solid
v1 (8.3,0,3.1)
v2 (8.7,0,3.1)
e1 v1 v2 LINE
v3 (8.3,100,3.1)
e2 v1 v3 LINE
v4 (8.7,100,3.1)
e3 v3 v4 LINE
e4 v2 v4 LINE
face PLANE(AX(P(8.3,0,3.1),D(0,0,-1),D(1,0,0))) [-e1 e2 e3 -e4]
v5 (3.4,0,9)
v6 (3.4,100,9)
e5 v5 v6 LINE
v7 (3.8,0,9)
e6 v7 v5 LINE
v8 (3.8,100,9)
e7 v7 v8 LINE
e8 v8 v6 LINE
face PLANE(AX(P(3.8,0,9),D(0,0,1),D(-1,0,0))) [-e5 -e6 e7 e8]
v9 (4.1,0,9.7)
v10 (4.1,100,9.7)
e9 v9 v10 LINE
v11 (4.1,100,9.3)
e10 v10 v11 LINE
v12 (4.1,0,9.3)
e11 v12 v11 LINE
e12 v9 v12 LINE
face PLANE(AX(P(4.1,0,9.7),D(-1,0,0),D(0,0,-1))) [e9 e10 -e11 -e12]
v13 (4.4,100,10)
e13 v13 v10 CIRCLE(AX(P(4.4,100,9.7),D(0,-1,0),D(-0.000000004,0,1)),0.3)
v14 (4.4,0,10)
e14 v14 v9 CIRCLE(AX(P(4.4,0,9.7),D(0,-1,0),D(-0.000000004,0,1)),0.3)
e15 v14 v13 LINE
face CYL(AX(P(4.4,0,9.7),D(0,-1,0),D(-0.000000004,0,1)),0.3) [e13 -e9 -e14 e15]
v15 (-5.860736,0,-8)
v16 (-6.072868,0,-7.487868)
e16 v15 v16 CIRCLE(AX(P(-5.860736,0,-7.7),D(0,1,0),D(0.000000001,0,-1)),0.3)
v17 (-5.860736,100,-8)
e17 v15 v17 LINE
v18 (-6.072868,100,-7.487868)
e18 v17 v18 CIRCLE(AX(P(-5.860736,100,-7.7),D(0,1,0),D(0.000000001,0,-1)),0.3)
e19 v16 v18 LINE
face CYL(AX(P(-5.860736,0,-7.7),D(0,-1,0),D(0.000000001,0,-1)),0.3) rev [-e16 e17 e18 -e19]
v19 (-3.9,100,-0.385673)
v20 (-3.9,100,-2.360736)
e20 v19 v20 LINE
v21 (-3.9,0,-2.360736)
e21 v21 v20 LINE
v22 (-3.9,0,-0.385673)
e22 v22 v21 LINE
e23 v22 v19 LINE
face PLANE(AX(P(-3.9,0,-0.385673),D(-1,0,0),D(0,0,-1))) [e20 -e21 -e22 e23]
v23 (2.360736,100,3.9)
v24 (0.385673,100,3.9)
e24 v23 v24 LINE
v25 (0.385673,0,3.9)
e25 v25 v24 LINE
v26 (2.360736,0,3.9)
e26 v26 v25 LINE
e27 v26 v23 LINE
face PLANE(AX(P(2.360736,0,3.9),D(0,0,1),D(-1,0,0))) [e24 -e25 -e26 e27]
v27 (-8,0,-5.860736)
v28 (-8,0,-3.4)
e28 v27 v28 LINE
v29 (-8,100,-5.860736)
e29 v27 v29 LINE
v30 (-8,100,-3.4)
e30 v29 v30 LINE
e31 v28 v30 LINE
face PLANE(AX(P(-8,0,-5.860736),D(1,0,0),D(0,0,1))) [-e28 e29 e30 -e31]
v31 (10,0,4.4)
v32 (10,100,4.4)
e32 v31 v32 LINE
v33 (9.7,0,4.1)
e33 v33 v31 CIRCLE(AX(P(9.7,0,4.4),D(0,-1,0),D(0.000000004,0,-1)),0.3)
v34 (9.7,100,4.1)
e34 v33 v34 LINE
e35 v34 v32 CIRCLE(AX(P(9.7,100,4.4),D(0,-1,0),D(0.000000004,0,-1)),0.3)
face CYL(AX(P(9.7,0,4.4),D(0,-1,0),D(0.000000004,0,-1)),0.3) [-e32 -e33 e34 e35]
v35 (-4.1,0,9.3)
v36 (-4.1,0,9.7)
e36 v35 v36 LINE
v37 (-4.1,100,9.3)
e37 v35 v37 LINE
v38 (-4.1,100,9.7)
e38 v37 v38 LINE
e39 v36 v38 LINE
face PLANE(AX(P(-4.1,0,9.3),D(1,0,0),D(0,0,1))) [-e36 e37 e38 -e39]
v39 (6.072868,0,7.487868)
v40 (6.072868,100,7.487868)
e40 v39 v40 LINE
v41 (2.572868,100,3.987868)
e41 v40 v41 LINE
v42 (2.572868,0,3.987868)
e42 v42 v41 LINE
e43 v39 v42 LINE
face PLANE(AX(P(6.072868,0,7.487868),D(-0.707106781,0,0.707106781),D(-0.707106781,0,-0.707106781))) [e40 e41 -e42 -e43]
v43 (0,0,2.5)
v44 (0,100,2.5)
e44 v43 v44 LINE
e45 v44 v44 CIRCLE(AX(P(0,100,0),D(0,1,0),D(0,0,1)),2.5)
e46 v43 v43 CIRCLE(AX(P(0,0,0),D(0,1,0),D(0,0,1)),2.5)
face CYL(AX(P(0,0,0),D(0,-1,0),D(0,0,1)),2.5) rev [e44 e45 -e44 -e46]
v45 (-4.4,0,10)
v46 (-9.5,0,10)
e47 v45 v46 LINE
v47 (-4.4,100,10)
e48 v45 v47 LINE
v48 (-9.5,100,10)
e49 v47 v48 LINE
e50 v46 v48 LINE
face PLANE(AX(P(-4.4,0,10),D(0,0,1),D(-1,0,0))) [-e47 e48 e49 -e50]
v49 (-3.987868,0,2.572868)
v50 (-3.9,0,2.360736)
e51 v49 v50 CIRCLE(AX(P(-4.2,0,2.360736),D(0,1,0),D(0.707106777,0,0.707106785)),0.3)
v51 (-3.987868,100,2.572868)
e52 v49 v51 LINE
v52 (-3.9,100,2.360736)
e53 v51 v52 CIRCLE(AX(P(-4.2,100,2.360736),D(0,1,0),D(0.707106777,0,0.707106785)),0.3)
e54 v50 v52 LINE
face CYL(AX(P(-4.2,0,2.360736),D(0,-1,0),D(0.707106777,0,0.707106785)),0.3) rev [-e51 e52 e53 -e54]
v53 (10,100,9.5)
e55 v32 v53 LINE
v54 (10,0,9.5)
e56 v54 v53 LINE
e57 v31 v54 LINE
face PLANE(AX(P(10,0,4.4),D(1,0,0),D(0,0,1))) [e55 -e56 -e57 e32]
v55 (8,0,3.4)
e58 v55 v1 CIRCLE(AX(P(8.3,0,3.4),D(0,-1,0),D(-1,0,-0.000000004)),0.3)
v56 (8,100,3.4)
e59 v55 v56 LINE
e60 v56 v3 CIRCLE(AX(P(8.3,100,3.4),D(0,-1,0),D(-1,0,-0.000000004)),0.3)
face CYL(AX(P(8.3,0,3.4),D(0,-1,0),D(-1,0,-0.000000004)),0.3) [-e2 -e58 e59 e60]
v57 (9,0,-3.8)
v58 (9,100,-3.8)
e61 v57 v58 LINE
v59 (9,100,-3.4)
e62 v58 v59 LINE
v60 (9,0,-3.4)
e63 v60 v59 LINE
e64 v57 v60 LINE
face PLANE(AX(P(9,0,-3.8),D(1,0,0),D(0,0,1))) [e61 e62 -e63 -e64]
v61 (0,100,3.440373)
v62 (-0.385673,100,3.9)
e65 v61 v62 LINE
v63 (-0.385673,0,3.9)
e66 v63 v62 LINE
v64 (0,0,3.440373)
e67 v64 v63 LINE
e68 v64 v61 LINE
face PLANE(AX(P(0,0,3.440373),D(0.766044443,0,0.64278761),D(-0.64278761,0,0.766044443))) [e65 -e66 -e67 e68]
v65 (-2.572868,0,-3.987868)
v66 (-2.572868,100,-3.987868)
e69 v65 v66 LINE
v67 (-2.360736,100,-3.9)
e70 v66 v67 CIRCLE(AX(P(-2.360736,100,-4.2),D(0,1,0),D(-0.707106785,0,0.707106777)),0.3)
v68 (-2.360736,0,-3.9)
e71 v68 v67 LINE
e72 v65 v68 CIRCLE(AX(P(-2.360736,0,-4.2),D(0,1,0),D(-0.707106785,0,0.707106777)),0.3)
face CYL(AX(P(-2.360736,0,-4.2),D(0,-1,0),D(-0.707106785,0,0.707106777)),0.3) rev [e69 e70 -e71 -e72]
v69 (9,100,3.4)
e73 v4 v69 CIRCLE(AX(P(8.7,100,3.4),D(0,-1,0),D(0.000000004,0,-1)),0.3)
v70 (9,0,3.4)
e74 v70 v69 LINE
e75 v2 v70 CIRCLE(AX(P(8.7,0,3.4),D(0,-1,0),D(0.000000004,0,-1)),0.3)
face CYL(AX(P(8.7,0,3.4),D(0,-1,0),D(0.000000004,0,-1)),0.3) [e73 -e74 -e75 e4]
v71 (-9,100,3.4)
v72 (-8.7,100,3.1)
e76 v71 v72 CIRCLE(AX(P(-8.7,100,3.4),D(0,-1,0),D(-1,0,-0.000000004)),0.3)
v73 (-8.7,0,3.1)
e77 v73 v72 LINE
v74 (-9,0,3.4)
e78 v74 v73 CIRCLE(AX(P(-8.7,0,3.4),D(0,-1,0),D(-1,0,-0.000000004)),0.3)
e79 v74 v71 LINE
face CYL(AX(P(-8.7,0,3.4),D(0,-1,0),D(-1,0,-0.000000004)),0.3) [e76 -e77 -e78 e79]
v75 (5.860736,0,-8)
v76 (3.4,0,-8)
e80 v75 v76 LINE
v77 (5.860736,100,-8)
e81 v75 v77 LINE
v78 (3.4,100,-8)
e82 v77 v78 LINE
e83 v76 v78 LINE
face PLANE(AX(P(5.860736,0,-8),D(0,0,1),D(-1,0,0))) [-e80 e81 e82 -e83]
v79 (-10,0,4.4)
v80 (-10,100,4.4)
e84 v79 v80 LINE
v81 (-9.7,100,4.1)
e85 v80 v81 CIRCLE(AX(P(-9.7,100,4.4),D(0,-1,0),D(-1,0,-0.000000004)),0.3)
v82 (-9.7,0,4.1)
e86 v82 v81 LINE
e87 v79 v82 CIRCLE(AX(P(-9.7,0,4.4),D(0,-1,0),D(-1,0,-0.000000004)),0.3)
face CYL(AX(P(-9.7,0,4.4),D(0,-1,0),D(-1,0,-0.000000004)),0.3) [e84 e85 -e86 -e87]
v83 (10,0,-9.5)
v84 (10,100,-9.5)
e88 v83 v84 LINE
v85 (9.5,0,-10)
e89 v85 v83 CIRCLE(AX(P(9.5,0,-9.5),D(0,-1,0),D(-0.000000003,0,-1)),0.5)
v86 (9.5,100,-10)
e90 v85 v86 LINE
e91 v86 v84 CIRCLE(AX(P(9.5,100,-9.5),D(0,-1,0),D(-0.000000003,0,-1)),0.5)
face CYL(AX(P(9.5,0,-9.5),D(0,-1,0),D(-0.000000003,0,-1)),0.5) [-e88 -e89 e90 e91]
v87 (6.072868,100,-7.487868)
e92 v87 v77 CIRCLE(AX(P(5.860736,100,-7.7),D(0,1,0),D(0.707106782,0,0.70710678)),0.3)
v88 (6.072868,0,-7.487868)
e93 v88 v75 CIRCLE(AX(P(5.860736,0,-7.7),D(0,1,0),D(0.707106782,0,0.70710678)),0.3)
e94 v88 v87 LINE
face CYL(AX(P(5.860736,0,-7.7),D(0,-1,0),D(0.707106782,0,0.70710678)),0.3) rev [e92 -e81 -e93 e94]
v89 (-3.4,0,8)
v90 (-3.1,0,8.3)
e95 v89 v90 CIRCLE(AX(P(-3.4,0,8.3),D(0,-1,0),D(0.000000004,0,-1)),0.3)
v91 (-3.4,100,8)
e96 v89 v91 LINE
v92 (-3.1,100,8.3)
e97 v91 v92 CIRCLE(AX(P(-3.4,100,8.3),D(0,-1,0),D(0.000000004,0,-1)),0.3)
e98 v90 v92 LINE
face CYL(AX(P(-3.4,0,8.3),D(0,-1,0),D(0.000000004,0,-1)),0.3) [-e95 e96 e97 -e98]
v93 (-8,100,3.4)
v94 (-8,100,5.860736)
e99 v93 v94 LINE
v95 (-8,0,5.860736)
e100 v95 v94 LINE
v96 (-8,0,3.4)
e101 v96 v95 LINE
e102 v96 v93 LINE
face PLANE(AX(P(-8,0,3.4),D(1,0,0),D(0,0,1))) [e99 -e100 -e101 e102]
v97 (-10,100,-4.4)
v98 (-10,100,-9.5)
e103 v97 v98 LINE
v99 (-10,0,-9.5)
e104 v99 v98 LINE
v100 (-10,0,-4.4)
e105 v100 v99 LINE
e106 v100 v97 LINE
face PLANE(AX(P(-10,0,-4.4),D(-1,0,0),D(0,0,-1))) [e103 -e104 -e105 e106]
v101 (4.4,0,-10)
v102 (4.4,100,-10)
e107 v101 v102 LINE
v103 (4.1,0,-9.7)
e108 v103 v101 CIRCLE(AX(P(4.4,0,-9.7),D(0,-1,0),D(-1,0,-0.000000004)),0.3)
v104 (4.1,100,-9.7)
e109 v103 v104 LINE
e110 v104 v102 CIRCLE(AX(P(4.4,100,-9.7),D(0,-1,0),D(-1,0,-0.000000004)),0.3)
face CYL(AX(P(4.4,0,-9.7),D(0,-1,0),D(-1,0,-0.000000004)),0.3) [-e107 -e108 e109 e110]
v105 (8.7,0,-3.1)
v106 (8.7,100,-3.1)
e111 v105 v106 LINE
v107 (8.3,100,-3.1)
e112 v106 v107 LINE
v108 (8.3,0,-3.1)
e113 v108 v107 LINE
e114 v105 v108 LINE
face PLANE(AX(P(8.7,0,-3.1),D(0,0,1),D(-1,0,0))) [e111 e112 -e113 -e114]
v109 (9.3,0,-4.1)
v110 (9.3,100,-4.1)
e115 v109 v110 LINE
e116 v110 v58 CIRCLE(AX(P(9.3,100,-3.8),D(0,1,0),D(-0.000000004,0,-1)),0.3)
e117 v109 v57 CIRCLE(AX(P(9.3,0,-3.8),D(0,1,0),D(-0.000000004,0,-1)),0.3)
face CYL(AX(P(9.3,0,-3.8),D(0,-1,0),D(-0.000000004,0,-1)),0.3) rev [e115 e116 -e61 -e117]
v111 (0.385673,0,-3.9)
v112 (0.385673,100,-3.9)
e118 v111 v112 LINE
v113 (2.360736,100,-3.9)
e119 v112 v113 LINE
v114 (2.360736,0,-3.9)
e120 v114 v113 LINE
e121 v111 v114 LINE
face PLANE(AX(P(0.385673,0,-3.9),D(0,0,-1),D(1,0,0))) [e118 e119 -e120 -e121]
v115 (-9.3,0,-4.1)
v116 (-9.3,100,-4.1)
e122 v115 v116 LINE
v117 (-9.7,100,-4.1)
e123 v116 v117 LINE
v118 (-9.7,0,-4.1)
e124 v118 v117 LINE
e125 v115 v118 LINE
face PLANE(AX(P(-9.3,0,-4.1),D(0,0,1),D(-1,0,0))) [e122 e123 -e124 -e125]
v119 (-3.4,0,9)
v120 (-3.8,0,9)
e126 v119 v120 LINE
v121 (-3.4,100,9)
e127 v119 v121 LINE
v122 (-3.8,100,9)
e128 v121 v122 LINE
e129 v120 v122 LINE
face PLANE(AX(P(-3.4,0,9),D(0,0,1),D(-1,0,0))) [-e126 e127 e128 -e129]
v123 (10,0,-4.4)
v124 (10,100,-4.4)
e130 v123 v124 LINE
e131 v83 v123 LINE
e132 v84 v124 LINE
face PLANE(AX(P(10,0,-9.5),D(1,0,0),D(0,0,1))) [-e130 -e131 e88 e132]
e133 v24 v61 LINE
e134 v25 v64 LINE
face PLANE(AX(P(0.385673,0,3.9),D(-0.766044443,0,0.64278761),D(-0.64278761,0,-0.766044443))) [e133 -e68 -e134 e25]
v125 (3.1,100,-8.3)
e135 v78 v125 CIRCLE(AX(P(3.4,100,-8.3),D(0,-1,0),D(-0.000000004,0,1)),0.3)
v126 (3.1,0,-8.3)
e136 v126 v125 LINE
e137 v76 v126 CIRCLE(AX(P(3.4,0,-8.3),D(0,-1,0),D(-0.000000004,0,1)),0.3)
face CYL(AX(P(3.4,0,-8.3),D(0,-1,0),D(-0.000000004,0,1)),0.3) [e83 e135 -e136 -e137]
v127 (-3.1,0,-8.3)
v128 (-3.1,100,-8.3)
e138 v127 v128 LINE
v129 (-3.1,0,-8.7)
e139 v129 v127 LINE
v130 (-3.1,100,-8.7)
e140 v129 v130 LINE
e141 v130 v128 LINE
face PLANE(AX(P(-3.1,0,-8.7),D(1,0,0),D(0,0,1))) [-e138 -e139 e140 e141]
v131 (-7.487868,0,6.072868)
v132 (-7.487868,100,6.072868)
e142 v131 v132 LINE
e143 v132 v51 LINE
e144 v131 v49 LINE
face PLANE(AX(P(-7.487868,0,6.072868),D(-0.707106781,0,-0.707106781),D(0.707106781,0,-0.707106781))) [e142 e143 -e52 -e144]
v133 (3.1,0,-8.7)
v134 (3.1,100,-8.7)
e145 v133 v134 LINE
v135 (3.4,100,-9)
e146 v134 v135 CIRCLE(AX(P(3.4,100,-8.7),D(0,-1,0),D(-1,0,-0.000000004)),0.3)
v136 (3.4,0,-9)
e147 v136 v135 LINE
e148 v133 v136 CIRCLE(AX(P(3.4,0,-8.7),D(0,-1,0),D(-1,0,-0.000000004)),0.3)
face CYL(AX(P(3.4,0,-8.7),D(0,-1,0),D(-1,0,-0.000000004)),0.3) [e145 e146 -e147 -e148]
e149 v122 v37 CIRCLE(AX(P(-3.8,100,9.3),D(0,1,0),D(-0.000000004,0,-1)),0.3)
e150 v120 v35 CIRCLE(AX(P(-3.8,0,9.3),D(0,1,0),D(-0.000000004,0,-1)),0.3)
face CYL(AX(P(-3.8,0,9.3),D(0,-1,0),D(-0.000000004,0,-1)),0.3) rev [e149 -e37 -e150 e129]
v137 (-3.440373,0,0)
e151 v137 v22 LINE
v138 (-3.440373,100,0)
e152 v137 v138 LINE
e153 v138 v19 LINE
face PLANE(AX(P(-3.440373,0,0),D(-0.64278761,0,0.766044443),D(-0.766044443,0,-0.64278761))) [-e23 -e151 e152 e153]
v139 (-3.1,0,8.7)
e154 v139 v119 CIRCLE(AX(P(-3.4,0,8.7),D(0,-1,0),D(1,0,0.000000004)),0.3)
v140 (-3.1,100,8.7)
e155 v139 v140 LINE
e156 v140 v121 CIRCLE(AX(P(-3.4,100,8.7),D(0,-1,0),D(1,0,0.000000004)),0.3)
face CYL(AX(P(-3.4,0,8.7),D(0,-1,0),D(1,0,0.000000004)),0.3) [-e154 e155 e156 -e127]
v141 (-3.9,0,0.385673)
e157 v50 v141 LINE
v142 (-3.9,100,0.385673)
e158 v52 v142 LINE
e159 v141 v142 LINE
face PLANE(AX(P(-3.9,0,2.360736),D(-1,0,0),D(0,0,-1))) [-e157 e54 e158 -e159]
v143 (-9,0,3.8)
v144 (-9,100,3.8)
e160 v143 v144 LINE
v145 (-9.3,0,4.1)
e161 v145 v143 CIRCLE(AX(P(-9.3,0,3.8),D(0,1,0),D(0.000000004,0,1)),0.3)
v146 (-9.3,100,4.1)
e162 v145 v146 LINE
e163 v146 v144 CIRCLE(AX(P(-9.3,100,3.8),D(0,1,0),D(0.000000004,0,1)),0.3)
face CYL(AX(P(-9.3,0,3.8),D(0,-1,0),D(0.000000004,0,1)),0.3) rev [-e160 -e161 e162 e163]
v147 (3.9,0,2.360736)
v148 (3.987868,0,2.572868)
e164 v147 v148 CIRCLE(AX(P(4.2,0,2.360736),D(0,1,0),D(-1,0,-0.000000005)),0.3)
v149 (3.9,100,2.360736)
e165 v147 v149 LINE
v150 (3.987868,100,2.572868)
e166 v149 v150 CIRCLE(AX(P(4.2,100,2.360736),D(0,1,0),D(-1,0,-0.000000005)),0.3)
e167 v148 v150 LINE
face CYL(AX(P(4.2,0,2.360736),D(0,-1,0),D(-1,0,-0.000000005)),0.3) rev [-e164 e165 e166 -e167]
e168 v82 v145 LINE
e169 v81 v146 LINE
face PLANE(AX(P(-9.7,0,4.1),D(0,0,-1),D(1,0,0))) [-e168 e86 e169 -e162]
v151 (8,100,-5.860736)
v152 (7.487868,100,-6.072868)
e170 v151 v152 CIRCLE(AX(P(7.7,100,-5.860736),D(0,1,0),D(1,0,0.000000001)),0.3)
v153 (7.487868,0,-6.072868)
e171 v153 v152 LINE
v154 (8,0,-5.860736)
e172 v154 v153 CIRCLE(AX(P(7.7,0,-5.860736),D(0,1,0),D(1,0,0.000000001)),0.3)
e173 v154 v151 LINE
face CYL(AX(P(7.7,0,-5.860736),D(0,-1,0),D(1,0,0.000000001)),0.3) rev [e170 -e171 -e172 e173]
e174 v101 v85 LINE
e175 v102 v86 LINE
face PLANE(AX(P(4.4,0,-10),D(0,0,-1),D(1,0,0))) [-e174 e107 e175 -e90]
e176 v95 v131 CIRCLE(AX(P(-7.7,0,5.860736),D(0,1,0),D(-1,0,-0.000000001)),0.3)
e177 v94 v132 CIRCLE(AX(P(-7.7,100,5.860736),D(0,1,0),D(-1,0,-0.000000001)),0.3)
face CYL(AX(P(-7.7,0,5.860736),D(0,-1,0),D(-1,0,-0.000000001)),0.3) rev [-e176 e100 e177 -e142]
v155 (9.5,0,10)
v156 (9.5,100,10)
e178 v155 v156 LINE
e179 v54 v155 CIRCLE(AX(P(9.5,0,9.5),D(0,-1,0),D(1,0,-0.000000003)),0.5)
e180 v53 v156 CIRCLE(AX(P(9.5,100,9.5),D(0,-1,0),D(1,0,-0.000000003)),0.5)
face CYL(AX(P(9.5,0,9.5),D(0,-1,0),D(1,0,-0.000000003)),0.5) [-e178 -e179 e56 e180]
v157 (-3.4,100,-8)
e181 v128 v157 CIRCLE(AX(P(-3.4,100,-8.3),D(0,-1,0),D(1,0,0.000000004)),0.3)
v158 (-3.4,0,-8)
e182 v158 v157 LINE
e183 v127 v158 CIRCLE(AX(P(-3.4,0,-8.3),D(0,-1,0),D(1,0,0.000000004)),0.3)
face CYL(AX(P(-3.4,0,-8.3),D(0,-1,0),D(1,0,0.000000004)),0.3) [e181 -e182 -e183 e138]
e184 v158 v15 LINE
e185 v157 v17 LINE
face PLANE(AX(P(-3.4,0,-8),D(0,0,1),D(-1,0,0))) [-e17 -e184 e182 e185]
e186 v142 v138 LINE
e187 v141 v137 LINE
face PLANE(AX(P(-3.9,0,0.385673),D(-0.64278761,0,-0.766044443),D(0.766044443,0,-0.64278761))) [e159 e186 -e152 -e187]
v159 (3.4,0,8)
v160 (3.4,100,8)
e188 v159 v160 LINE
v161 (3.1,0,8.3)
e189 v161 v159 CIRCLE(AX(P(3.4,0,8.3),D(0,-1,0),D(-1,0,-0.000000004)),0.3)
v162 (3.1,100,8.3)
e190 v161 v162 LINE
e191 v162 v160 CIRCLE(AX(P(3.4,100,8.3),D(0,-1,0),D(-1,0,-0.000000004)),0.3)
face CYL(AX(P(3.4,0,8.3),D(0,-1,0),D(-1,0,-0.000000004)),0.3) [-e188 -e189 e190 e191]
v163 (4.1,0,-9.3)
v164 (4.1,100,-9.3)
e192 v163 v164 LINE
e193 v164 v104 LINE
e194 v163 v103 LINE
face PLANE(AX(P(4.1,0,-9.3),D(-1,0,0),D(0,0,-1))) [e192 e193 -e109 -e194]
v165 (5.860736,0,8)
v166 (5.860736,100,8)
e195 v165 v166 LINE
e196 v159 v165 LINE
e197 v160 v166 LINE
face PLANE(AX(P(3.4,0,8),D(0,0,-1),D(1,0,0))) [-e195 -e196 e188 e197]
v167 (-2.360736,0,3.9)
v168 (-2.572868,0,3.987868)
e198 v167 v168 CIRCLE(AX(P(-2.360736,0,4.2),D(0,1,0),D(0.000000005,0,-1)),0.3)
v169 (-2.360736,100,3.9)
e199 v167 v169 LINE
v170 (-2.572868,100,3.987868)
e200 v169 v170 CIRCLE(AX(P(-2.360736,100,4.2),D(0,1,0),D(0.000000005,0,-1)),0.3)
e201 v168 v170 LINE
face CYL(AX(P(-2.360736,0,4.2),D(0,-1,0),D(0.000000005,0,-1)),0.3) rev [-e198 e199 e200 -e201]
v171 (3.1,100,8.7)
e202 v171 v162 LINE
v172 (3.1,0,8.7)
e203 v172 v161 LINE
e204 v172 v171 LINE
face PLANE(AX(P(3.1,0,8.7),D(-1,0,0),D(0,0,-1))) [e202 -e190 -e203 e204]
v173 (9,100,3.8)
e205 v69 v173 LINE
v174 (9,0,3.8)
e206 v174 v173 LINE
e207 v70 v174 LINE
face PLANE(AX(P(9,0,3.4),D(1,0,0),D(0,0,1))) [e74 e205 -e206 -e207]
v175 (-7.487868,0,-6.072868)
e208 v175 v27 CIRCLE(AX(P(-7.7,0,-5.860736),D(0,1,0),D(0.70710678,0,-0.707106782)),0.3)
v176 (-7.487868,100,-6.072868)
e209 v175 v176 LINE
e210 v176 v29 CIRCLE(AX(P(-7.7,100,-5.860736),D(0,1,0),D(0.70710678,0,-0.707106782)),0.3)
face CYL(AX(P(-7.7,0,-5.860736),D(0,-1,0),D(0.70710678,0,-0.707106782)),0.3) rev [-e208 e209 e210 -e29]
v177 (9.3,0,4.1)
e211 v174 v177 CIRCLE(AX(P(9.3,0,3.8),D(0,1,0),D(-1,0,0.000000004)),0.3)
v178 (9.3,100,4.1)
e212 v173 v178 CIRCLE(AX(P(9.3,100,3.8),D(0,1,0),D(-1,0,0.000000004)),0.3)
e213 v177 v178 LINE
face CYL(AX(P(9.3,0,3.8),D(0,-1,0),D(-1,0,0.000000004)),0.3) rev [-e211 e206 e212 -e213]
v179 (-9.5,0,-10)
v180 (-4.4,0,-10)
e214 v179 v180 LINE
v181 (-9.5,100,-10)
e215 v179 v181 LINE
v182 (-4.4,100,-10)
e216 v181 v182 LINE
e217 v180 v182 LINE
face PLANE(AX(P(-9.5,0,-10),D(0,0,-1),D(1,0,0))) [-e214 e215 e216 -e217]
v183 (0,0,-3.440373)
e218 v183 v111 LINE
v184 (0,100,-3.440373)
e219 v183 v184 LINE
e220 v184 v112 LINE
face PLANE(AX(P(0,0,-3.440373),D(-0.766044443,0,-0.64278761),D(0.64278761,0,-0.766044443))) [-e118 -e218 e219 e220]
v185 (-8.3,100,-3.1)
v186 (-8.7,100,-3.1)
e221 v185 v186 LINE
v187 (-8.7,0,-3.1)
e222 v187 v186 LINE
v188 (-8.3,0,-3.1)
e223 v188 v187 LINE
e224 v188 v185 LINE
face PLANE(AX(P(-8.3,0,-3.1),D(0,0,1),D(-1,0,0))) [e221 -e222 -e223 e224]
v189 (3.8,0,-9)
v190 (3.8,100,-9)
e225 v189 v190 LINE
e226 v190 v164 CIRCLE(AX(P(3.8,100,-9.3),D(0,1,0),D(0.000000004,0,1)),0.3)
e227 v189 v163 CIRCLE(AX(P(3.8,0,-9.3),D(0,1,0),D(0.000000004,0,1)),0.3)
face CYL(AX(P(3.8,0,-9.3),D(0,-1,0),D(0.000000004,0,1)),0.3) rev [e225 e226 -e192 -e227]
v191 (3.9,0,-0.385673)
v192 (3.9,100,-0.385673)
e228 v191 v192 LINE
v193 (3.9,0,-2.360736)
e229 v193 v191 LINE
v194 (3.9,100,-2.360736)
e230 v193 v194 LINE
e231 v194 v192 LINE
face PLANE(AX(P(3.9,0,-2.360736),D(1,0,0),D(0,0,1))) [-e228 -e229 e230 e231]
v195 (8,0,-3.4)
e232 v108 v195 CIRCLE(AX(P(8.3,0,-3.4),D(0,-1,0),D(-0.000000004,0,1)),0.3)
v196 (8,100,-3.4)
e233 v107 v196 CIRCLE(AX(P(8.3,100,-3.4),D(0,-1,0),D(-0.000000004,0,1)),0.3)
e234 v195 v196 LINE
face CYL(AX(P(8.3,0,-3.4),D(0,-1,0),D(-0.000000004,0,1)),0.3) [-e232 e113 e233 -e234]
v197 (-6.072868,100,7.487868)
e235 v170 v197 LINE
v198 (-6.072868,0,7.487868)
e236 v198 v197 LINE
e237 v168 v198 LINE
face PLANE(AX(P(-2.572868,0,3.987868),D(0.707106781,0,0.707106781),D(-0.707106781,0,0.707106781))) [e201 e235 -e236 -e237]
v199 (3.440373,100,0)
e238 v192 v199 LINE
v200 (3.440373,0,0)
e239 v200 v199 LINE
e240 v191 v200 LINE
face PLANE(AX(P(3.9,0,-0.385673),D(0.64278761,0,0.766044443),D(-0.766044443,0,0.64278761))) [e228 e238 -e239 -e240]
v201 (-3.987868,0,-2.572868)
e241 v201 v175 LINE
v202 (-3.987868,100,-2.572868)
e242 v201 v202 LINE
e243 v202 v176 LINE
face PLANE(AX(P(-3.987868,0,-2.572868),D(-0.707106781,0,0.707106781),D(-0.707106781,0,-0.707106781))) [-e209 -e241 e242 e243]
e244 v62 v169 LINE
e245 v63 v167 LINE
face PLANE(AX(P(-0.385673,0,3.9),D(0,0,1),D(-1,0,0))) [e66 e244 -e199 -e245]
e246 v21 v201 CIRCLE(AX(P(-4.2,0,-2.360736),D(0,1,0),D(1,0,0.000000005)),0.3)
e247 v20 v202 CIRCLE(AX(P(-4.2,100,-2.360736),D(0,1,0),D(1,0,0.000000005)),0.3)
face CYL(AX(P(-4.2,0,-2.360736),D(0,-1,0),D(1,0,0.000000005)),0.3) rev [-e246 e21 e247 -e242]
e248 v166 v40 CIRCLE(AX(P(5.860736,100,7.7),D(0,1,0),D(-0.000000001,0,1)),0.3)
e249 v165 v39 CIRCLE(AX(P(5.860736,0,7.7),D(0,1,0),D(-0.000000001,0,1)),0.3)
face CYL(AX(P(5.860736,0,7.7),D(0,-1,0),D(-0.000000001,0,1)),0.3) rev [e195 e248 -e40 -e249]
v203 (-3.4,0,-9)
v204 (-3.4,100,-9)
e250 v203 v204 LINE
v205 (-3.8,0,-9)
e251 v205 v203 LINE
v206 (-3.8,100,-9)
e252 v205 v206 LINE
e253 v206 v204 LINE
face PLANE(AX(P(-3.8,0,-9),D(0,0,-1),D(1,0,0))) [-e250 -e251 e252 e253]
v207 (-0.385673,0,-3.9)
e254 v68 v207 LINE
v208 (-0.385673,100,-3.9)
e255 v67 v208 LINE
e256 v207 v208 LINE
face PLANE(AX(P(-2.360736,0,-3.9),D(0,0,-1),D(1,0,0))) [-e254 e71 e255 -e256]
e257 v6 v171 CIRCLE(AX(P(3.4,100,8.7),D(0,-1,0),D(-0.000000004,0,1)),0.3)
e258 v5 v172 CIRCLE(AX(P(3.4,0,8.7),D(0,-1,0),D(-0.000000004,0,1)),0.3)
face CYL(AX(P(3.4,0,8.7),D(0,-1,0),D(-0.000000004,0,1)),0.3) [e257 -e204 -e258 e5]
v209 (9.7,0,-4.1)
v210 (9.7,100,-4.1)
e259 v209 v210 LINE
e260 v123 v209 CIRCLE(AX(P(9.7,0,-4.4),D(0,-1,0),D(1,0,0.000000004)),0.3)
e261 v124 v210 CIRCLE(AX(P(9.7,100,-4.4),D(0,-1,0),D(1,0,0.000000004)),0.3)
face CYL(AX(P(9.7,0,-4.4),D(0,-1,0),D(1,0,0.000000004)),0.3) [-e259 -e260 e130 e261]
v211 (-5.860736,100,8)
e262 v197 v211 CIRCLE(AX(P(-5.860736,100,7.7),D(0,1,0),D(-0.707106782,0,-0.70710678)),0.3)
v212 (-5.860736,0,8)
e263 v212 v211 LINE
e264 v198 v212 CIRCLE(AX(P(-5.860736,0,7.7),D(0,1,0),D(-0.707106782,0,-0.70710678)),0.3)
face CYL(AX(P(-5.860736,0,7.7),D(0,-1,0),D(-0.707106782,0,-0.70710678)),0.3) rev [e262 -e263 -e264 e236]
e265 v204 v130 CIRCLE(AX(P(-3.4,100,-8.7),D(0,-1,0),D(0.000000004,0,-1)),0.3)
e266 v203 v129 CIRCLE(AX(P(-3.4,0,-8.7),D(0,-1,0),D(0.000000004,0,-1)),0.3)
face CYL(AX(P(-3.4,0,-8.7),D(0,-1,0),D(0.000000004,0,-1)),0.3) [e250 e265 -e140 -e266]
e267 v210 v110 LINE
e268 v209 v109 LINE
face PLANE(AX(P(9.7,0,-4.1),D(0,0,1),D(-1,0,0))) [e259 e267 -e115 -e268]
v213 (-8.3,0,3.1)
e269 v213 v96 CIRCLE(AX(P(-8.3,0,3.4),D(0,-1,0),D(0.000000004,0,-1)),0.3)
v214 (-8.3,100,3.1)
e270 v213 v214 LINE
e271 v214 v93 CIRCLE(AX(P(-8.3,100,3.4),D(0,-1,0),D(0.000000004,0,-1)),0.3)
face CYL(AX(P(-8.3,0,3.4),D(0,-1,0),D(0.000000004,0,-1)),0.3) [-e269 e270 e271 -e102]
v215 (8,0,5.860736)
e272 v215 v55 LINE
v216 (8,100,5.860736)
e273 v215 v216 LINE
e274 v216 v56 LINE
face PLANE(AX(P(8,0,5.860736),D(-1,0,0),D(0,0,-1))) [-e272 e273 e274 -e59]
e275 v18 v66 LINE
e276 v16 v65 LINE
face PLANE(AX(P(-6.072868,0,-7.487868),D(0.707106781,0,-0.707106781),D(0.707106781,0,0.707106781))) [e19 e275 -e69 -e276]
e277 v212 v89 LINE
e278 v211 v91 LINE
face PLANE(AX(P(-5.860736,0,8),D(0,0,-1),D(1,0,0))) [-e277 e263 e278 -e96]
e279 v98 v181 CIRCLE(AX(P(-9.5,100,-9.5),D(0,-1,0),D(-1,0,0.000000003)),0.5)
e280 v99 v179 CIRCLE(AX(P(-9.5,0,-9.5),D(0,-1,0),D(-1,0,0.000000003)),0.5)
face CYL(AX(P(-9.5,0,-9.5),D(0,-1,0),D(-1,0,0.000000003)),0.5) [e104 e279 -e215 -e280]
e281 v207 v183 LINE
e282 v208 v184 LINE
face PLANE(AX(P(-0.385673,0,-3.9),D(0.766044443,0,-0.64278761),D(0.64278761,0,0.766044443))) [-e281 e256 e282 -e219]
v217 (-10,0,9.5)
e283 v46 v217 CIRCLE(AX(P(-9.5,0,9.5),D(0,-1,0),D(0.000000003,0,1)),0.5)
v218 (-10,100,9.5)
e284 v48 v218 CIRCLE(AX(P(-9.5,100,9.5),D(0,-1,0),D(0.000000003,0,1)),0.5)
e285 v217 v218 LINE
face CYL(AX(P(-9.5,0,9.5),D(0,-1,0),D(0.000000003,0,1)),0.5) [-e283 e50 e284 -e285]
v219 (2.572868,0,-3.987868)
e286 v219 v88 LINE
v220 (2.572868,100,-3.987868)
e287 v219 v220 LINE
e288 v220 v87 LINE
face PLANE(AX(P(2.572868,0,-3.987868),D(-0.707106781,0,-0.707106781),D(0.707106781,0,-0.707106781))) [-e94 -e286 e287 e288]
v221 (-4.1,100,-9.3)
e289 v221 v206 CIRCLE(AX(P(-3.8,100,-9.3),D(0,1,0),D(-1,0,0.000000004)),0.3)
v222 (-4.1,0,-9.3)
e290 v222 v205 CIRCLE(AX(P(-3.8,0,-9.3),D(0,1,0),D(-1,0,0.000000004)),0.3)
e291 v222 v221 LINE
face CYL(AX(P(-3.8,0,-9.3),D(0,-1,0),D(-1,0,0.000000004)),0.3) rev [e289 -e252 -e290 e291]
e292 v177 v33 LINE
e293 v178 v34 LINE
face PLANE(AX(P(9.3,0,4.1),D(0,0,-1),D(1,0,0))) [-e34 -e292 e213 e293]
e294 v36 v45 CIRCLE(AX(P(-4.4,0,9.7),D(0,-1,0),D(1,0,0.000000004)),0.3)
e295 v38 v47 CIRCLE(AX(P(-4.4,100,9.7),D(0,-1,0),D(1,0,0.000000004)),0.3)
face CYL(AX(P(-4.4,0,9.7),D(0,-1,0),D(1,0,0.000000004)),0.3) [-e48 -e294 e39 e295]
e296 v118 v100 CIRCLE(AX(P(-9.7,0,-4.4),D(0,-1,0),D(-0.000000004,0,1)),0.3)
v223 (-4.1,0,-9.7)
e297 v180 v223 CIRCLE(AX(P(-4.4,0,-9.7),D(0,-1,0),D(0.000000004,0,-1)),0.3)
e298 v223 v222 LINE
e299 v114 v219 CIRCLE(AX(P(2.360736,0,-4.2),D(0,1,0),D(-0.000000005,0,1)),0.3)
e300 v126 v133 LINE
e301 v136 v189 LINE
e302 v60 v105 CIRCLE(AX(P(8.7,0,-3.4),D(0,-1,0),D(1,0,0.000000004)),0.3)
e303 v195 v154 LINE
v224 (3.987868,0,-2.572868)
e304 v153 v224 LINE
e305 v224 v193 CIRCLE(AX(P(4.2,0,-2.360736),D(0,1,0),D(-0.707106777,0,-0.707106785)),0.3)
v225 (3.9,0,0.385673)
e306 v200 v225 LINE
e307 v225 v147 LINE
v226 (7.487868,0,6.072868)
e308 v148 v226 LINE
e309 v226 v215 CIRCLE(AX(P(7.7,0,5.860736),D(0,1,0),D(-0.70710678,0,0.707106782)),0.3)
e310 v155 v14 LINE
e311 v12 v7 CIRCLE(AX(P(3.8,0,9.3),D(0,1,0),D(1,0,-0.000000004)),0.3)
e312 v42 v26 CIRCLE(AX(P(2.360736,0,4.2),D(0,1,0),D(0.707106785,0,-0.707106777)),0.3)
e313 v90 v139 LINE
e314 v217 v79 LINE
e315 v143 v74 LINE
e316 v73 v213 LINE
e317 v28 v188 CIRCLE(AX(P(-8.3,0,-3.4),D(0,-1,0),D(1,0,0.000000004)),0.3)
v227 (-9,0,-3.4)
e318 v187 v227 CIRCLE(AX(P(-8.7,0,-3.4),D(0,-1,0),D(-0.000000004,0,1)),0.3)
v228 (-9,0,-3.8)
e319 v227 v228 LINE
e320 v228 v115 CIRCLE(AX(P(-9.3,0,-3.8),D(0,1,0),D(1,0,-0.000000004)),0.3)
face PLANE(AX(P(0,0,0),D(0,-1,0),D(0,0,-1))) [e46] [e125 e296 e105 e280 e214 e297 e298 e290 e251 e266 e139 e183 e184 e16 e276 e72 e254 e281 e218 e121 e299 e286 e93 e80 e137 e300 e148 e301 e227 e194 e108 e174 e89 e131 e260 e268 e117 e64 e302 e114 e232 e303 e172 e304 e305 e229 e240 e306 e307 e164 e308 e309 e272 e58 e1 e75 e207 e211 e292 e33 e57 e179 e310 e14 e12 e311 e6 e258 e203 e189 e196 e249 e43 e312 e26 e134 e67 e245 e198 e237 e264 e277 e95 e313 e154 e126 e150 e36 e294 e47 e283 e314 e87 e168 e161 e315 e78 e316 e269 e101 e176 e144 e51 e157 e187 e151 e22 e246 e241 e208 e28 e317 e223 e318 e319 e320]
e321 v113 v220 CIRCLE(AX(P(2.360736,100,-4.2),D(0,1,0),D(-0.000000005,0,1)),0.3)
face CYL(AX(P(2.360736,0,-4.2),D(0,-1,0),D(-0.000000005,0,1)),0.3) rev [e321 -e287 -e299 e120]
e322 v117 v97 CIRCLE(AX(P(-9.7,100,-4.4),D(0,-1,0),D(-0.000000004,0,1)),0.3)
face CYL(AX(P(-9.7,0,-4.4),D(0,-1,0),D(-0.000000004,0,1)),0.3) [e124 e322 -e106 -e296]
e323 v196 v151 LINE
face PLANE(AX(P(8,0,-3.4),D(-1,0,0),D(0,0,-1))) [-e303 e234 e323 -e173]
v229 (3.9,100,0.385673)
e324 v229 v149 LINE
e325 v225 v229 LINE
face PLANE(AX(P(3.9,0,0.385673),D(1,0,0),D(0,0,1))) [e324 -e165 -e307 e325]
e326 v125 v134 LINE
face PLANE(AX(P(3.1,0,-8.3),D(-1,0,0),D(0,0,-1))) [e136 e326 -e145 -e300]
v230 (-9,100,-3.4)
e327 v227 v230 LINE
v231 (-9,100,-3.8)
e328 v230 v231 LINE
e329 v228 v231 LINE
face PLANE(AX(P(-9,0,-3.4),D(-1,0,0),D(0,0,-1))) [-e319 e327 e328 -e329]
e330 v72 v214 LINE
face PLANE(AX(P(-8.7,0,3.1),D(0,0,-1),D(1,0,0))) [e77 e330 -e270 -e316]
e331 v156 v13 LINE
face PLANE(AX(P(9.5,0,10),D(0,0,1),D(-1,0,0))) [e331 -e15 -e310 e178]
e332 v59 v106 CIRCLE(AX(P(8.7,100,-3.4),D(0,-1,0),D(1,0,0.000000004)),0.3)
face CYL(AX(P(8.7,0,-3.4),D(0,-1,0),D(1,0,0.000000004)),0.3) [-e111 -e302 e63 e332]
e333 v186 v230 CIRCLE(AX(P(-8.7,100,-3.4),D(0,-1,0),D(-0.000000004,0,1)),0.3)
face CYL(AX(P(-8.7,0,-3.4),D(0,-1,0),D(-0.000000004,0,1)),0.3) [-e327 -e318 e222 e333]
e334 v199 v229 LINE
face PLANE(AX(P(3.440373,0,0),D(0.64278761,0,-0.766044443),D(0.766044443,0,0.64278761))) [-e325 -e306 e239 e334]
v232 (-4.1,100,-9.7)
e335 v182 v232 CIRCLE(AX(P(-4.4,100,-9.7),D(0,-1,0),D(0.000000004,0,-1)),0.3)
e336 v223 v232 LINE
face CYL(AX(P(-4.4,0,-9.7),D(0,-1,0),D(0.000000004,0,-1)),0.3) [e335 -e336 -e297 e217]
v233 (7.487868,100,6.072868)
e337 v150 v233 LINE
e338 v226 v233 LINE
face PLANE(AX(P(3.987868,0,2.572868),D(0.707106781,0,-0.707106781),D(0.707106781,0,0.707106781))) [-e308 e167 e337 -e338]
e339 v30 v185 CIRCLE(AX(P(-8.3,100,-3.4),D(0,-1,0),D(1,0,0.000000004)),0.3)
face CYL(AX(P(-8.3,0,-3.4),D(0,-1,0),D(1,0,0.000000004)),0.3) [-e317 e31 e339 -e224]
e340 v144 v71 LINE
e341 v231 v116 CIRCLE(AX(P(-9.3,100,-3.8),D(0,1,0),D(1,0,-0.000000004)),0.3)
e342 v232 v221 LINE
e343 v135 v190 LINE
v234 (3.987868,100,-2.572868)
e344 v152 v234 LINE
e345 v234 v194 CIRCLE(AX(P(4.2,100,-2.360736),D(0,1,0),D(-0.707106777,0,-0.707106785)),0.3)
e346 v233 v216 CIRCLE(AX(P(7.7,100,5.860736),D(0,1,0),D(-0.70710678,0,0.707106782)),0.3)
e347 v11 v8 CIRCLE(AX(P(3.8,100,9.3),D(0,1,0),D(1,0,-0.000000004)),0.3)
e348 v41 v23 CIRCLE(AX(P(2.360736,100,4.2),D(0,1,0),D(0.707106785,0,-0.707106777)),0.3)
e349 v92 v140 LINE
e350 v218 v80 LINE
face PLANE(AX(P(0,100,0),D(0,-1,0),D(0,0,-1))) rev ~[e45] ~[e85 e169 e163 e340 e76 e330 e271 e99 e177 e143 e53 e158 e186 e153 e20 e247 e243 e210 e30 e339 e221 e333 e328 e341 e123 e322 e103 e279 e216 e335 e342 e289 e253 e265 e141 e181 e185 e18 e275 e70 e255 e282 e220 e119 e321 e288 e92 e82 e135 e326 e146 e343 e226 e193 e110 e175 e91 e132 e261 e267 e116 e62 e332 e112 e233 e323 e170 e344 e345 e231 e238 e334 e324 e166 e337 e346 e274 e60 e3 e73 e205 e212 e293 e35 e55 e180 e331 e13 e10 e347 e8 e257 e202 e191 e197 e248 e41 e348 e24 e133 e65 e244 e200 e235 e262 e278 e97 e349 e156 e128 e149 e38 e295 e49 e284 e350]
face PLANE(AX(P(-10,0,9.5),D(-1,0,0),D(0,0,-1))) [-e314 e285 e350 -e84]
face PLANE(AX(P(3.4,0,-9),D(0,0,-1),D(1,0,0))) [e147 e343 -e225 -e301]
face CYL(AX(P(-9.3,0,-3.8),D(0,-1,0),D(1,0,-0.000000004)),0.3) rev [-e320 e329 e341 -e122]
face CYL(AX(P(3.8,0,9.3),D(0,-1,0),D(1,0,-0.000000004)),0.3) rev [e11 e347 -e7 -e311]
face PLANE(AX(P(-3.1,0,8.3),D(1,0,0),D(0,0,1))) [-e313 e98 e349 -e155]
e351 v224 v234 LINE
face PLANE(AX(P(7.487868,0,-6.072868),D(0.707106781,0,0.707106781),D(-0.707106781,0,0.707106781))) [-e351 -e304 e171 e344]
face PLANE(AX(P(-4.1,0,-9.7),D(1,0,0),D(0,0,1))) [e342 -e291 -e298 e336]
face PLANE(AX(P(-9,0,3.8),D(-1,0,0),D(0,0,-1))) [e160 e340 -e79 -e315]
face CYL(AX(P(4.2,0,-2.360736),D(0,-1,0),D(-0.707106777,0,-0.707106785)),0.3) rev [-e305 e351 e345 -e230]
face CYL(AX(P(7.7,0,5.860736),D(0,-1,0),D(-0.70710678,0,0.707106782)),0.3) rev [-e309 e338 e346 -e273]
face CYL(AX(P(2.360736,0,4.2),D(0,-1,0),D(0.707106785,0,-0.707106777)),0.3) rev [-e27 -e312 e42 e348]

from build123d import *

# Parameters (mm, degrees)
SKETCH2_R                 = 2.5
VUONG_NHOMDH20X20_1_DEPTH = 100


with BuildPart() as part:
    # Sketch2 → Vuong NHOMDH20X20(1) (new body)
    with BuildSketch(Plane.ZX):
        with BuildLine():
            Line((0.385672566, 3.9), (2.360735931, 3.9))
            ThreePointArc((2.360735931, 3.9), (2.475540961, 3.92283614), (2.572867966, 3.987867966))
            Line((2.572867966, 3.987867966), (6.072867966, 7.487867966))
            ThreePointArc((6.072867966, 7.487867966), (6.137899791, 7.81480503), (5.860735931, 8))
            Line((5.860735931, 8), (3.4, 8))
            ThreePointArc((3.4, 8), (3.187867966, 8.087867966), (3.1, 8.3))
            Line((3.1, 8.3), (3.1, 8.7))
            ThreePointArc((3.1, 8.7), (3.187867966, 8.912132034), (3.4, 9))
            Line((3.4, 9), (3.8, 9))
            ThreePointArc((3.8, 9), (4.012132034, 9.087867966), (4.1, 9.3))
            Line((4.1, 9.3), (4.1, 9.7))
            ThreePointArc((4.1, 9.7), (4.187867966, 9.912132034), (4.4, 10))
            Line((4.4, 10), (9.5, 10))
            ThreePointArc((9.5, 10), (9.853553391, 9.853553391), (10, 9.5))
            Line((10, 9.5), (10, 4.4))
            ThreePointArc((10, 4.4), (9.912132034, 4.187867966), (9.7, 4.1))
            Line((9.7, 4.1), (9.3, 4.1))
            ThreePointArc((9.3, 4.1), (9.087867966, 4.012132034), (9, 3.8))
            Line((9, 3.8), (9, 3.4))
            ThreePointArc((9, 3.4), (8.912132034, 3.187867966), (8.7, 3.1))
            Line((8.7, 3.1), (8.3, 3.1))
            ThreePointArc((8.3, 3.1), (8.087867966, 3.187867966), (8, 3.4))
            Line((8, 3.4), (8, 5.860735931))
            ThreePointArc((8, 5.860735931), (7.81480503, 6.137899791), (7.487867966, 6.072867966))
            Line((7.487867966, 6.072867966), (3.987867966, 2.572867966))
            ThreePointArc((3.987867966, 2.572867966), (3.92283614, 2.475540961), (3.9, 2.360735931))
            Line((3.9, 2.360735931), (3.9, 0.385672566))
            Line((3.9, 0.385672566), (3.440373334, 0))
            Line((3.440373334, 0), (3.9, -0.385672566))
            Line((3.9, -0.385672566), (3.9, -2.360735931))
            ThreePointArc((3.9, -2.360735931), (3.92283614, -2.475540961), (3.987867966, -2.572867966))
            Line((3.987867966, -2.572867966), (7.487867966, -6.072867966))
            ThreePointArc((7.487867966, -6.072867966), (7.81480503, -6.137899791), (8, -5.860735931))
            Line((8, -5.860735931), (8, -3.4))
            ThreePointArc((8, -3.4), (8.087867966, -3.187867966), (8.3, -3.1))
            Line((8.3, -3.1), (8.7, -3.1))
            ThreePointArc((8.7, -3.1), (8.912132034, -3.187867966), (9, -3.4))
            Line((9, -3.4), (9, -3.8))
            ThreePointArc((9, -3.8), (9.087867966, -4.012132034), (9.3, -4.1))
            Line((9.3, -4.1), (9.7, -4.1))
            ThreePointArc((9.7, -4.1), (9.912132034, -4.187867966), (10, -4.4))
            Line((10, -4.4), (10, -9.5))
            ThreePointArc((10, -9.5), (9.853553391, -9.853553391), (9.5, -10))
            Line((9.5, -10), (4.4, -10))
            ThreePointArc((4.4, -10), (4.187867966, -9.912132034), (4.1, -9.7))
            Line((4.1, -9.7), (4.1, -9.3))
            ThreePointArc((4.1, -9.3), (4.012132034, -9.087867966), (3.8, -9))
            Line((3.8, -9), (3.4, -9))
            ThreePointArc((3.4, -9), (3.187867966, -8.912132034), (3.1, -8.7))
            Line((3.1, -8.7), (3.1, -8.3))
            ThreePointArc((3.1, -8.3), (3.187867966, -8.087867966), (3.4, -8))
            Line((3.4, -8), (5.860735931, -8))
            ThreePointArc((5.860735931, -8), (6.137899791, -7.81480503), (6.072867966, -7.487867966))
            Line((6.072867966, -7.487867966), (2.572867966, -3.987867966))
            ThreePointArc((2.572867966, -3.987867966), (2.475540961, -3.92283614), (2.360735931, -3.9))
            Line((2.360735931, -3.9), (0.385672566, -3.9))
            Line((0.385672566, -3.9), (0, -3.440373334))
            Line((0, -3.440373334), (-0.385672566, -3.9))
            Line((-0.385672566, -3.9), (-2.360735931, -3.9))
            ThreePointArc((-2.360735931, -3.9), (-2.475540961, -3.92283614), (-2.572867966, -3.987867966))
            Line((-2.572867966, -3.987867966), (-6.072867966, -7.487867966))
            ThreePointArc((-6.072867966, -7.487867966), (-6.137899791, -7.81480503), (-5.860735931, -8))
            Line((-5.860735931, -8), (-3.4, -8))
            ThreePointArc((-3.4, -8), (-3.187867966, -8.087867966), (-3.1, -8.3))
            Line((-3.1, -8.3), (-3.1, -8.7))
            ThreePointArc((-3.1, -8.7), (-3.187867966, -8.912132034), (-3.4, -9))
            Line((-3.4, -9), (-3.8, -9))
            ThreePointArc((-3.8, -9), (-4.012132034, -9.087867966), (-4.1, -9.3))
            Line((-4.1, -9.3), (-4.1, -9.7))
            ThreePointArc((-4.1, -9.7), (-4.187867966, -9.912132034), (-4.4, -10))
            Line((-4.4, -10), (-9.5, -10))
            ThreePointArc((-9.5, -10), (-9.853553391, -9.853553391), (-10, -9.5))
            Line((-10, -9.5), (-10, -4.4))
            ThreePointArc((-10, -4.4), (-9.912132034, -4.187867966), (-9.7, -4.1))
            Line((-9.7, -4.1), (-9.3, -4.1))
            ThreePointArc((-9.3, -4.1), (-9.087867966, -4.012132034), (-9, -3.8))
            Line((-9, -3.8), (-9, -3.4))
            ThreePointArc((-9, -3.4), (-8.912132034, -3.187867966), (-8.7, -3.1))
            Line((-8.7, -3.1), (-8.3, -3.1))
            ThreePointArc((-8.3, -3.1), (-8.087867966, -3.187867966), (-8, -3.4))
            Line((-8, -3.4), (-8, -5.860735931))
            ThreePointArc((-8, -5.860735931), (-7.81480503, -6.137899791), (-7.487867966, -6.072867966))
            Line((-7.487867966, -6.072867966), (-3.987867966, -2.572867966))
            ThreePointArc((-3.987867966, -2.572867966), (-3.92283614, -2.475540961), (-3.9, -2.360735931))
            Line((-3.9, -2.360735931), (-3.9, -0.385672566))
            Line((-3.9, -0.385672566), (-3.440373334, 0))
            Line((-3.440373334, 0), (-3.9, 0.385672566))
            Line((-3.9, 0.385672566), (-3.9, 2.360735931))
            ThreePointArc((-3.9, 2.360735931), (-3.92283614, 2.475540961), (-3.987867966, 2.572867966))
            Line((-3.987867966, 2.572867966), (-7.487867966, 6.072867966))
            ThreePointArc((-7.487867966, 6.072867966), (-7.81480503, 6.137899791), (-8, 5.860735931))
            Line((-8, 5.860735931), (-8, 3.4))
            ThreePointArc((-8, 3.4), (-8.087867966, 3.187867966), (-8.3, 3.1))
            Line((-8.3, 3.1), (-8.7, 3.1))
            ThreePointArc((-8.7, 3.1), (-8.912132034, 3.187867966), (-9, 3.4))
            Line((-9, 3.4), (-9, 3.8))
            ThreePointArc((-9, 3.8), (-9.087867966, 4.012132034), (-9.3, 4.1))
            Line((-9.3, 4.1), (-9.7, 4.1))
            ThreePointArc((-9.7, 4.1), (-9.912132034, 4.187867966), (-10, 4.4))
            Line((-10, 4.4), (-10, 9.5))
            ThreePointArc((-10, 9.5), (-9.853553391, 9.853553391), (-9.5, 10))
            Line((-9.5, 10), (-4.4, 10))
            ThreePointArc((-4.4, 10), (-4.187867966, 9.912132034), (-4.1, 9.7))
            Line((-4.1, 9.7), (-4.1, 9.3))
            ThreePointArc((-4.1, 9.3), (-4.012132034, 9.087867966), (-3.8, 9))
            Line((-3.8, 9), (-3.4, 9))
            ThreePointArc((-3.4, 9), (-3.187867966, 8.912132034), (-3.1, 8.7))
            Line((-3.1, 8.7), (-3.1, 8.3))
            ThreePointArc((-3.1, 8.3), (-3.187867966, 8.087867966), (-3.4, 8))
            Line((-3.4, 8), (-5.860735931, 8))
            ThreePointArc((-5.860735931, 8), (-6.137899791, 7.81480503), (-6.072867966, 7.487867966))
            Line((-6.072867966, 7.487867966), (-2.572867966, 3.987867966))
            ThreePointArc((-2.572867966, 3.987867966), (-2.475540961, 3.92283614), (-2.360735931, 3.9))
            Line((-2.360735931, 3.9), (-0.385672566, 3.9))
            Line((-0.385672566, 3.9), (0, 3.440373334))
            Line((0, 3.440373334), (0.385672566, 3.9))
        make_face()
        Circle(SKETCH2_R, mode=Mode.SUBTRACT)
    extrude(amount=VUONG_NHOMDH20X20_1_DEPTH)


solid = part.part
